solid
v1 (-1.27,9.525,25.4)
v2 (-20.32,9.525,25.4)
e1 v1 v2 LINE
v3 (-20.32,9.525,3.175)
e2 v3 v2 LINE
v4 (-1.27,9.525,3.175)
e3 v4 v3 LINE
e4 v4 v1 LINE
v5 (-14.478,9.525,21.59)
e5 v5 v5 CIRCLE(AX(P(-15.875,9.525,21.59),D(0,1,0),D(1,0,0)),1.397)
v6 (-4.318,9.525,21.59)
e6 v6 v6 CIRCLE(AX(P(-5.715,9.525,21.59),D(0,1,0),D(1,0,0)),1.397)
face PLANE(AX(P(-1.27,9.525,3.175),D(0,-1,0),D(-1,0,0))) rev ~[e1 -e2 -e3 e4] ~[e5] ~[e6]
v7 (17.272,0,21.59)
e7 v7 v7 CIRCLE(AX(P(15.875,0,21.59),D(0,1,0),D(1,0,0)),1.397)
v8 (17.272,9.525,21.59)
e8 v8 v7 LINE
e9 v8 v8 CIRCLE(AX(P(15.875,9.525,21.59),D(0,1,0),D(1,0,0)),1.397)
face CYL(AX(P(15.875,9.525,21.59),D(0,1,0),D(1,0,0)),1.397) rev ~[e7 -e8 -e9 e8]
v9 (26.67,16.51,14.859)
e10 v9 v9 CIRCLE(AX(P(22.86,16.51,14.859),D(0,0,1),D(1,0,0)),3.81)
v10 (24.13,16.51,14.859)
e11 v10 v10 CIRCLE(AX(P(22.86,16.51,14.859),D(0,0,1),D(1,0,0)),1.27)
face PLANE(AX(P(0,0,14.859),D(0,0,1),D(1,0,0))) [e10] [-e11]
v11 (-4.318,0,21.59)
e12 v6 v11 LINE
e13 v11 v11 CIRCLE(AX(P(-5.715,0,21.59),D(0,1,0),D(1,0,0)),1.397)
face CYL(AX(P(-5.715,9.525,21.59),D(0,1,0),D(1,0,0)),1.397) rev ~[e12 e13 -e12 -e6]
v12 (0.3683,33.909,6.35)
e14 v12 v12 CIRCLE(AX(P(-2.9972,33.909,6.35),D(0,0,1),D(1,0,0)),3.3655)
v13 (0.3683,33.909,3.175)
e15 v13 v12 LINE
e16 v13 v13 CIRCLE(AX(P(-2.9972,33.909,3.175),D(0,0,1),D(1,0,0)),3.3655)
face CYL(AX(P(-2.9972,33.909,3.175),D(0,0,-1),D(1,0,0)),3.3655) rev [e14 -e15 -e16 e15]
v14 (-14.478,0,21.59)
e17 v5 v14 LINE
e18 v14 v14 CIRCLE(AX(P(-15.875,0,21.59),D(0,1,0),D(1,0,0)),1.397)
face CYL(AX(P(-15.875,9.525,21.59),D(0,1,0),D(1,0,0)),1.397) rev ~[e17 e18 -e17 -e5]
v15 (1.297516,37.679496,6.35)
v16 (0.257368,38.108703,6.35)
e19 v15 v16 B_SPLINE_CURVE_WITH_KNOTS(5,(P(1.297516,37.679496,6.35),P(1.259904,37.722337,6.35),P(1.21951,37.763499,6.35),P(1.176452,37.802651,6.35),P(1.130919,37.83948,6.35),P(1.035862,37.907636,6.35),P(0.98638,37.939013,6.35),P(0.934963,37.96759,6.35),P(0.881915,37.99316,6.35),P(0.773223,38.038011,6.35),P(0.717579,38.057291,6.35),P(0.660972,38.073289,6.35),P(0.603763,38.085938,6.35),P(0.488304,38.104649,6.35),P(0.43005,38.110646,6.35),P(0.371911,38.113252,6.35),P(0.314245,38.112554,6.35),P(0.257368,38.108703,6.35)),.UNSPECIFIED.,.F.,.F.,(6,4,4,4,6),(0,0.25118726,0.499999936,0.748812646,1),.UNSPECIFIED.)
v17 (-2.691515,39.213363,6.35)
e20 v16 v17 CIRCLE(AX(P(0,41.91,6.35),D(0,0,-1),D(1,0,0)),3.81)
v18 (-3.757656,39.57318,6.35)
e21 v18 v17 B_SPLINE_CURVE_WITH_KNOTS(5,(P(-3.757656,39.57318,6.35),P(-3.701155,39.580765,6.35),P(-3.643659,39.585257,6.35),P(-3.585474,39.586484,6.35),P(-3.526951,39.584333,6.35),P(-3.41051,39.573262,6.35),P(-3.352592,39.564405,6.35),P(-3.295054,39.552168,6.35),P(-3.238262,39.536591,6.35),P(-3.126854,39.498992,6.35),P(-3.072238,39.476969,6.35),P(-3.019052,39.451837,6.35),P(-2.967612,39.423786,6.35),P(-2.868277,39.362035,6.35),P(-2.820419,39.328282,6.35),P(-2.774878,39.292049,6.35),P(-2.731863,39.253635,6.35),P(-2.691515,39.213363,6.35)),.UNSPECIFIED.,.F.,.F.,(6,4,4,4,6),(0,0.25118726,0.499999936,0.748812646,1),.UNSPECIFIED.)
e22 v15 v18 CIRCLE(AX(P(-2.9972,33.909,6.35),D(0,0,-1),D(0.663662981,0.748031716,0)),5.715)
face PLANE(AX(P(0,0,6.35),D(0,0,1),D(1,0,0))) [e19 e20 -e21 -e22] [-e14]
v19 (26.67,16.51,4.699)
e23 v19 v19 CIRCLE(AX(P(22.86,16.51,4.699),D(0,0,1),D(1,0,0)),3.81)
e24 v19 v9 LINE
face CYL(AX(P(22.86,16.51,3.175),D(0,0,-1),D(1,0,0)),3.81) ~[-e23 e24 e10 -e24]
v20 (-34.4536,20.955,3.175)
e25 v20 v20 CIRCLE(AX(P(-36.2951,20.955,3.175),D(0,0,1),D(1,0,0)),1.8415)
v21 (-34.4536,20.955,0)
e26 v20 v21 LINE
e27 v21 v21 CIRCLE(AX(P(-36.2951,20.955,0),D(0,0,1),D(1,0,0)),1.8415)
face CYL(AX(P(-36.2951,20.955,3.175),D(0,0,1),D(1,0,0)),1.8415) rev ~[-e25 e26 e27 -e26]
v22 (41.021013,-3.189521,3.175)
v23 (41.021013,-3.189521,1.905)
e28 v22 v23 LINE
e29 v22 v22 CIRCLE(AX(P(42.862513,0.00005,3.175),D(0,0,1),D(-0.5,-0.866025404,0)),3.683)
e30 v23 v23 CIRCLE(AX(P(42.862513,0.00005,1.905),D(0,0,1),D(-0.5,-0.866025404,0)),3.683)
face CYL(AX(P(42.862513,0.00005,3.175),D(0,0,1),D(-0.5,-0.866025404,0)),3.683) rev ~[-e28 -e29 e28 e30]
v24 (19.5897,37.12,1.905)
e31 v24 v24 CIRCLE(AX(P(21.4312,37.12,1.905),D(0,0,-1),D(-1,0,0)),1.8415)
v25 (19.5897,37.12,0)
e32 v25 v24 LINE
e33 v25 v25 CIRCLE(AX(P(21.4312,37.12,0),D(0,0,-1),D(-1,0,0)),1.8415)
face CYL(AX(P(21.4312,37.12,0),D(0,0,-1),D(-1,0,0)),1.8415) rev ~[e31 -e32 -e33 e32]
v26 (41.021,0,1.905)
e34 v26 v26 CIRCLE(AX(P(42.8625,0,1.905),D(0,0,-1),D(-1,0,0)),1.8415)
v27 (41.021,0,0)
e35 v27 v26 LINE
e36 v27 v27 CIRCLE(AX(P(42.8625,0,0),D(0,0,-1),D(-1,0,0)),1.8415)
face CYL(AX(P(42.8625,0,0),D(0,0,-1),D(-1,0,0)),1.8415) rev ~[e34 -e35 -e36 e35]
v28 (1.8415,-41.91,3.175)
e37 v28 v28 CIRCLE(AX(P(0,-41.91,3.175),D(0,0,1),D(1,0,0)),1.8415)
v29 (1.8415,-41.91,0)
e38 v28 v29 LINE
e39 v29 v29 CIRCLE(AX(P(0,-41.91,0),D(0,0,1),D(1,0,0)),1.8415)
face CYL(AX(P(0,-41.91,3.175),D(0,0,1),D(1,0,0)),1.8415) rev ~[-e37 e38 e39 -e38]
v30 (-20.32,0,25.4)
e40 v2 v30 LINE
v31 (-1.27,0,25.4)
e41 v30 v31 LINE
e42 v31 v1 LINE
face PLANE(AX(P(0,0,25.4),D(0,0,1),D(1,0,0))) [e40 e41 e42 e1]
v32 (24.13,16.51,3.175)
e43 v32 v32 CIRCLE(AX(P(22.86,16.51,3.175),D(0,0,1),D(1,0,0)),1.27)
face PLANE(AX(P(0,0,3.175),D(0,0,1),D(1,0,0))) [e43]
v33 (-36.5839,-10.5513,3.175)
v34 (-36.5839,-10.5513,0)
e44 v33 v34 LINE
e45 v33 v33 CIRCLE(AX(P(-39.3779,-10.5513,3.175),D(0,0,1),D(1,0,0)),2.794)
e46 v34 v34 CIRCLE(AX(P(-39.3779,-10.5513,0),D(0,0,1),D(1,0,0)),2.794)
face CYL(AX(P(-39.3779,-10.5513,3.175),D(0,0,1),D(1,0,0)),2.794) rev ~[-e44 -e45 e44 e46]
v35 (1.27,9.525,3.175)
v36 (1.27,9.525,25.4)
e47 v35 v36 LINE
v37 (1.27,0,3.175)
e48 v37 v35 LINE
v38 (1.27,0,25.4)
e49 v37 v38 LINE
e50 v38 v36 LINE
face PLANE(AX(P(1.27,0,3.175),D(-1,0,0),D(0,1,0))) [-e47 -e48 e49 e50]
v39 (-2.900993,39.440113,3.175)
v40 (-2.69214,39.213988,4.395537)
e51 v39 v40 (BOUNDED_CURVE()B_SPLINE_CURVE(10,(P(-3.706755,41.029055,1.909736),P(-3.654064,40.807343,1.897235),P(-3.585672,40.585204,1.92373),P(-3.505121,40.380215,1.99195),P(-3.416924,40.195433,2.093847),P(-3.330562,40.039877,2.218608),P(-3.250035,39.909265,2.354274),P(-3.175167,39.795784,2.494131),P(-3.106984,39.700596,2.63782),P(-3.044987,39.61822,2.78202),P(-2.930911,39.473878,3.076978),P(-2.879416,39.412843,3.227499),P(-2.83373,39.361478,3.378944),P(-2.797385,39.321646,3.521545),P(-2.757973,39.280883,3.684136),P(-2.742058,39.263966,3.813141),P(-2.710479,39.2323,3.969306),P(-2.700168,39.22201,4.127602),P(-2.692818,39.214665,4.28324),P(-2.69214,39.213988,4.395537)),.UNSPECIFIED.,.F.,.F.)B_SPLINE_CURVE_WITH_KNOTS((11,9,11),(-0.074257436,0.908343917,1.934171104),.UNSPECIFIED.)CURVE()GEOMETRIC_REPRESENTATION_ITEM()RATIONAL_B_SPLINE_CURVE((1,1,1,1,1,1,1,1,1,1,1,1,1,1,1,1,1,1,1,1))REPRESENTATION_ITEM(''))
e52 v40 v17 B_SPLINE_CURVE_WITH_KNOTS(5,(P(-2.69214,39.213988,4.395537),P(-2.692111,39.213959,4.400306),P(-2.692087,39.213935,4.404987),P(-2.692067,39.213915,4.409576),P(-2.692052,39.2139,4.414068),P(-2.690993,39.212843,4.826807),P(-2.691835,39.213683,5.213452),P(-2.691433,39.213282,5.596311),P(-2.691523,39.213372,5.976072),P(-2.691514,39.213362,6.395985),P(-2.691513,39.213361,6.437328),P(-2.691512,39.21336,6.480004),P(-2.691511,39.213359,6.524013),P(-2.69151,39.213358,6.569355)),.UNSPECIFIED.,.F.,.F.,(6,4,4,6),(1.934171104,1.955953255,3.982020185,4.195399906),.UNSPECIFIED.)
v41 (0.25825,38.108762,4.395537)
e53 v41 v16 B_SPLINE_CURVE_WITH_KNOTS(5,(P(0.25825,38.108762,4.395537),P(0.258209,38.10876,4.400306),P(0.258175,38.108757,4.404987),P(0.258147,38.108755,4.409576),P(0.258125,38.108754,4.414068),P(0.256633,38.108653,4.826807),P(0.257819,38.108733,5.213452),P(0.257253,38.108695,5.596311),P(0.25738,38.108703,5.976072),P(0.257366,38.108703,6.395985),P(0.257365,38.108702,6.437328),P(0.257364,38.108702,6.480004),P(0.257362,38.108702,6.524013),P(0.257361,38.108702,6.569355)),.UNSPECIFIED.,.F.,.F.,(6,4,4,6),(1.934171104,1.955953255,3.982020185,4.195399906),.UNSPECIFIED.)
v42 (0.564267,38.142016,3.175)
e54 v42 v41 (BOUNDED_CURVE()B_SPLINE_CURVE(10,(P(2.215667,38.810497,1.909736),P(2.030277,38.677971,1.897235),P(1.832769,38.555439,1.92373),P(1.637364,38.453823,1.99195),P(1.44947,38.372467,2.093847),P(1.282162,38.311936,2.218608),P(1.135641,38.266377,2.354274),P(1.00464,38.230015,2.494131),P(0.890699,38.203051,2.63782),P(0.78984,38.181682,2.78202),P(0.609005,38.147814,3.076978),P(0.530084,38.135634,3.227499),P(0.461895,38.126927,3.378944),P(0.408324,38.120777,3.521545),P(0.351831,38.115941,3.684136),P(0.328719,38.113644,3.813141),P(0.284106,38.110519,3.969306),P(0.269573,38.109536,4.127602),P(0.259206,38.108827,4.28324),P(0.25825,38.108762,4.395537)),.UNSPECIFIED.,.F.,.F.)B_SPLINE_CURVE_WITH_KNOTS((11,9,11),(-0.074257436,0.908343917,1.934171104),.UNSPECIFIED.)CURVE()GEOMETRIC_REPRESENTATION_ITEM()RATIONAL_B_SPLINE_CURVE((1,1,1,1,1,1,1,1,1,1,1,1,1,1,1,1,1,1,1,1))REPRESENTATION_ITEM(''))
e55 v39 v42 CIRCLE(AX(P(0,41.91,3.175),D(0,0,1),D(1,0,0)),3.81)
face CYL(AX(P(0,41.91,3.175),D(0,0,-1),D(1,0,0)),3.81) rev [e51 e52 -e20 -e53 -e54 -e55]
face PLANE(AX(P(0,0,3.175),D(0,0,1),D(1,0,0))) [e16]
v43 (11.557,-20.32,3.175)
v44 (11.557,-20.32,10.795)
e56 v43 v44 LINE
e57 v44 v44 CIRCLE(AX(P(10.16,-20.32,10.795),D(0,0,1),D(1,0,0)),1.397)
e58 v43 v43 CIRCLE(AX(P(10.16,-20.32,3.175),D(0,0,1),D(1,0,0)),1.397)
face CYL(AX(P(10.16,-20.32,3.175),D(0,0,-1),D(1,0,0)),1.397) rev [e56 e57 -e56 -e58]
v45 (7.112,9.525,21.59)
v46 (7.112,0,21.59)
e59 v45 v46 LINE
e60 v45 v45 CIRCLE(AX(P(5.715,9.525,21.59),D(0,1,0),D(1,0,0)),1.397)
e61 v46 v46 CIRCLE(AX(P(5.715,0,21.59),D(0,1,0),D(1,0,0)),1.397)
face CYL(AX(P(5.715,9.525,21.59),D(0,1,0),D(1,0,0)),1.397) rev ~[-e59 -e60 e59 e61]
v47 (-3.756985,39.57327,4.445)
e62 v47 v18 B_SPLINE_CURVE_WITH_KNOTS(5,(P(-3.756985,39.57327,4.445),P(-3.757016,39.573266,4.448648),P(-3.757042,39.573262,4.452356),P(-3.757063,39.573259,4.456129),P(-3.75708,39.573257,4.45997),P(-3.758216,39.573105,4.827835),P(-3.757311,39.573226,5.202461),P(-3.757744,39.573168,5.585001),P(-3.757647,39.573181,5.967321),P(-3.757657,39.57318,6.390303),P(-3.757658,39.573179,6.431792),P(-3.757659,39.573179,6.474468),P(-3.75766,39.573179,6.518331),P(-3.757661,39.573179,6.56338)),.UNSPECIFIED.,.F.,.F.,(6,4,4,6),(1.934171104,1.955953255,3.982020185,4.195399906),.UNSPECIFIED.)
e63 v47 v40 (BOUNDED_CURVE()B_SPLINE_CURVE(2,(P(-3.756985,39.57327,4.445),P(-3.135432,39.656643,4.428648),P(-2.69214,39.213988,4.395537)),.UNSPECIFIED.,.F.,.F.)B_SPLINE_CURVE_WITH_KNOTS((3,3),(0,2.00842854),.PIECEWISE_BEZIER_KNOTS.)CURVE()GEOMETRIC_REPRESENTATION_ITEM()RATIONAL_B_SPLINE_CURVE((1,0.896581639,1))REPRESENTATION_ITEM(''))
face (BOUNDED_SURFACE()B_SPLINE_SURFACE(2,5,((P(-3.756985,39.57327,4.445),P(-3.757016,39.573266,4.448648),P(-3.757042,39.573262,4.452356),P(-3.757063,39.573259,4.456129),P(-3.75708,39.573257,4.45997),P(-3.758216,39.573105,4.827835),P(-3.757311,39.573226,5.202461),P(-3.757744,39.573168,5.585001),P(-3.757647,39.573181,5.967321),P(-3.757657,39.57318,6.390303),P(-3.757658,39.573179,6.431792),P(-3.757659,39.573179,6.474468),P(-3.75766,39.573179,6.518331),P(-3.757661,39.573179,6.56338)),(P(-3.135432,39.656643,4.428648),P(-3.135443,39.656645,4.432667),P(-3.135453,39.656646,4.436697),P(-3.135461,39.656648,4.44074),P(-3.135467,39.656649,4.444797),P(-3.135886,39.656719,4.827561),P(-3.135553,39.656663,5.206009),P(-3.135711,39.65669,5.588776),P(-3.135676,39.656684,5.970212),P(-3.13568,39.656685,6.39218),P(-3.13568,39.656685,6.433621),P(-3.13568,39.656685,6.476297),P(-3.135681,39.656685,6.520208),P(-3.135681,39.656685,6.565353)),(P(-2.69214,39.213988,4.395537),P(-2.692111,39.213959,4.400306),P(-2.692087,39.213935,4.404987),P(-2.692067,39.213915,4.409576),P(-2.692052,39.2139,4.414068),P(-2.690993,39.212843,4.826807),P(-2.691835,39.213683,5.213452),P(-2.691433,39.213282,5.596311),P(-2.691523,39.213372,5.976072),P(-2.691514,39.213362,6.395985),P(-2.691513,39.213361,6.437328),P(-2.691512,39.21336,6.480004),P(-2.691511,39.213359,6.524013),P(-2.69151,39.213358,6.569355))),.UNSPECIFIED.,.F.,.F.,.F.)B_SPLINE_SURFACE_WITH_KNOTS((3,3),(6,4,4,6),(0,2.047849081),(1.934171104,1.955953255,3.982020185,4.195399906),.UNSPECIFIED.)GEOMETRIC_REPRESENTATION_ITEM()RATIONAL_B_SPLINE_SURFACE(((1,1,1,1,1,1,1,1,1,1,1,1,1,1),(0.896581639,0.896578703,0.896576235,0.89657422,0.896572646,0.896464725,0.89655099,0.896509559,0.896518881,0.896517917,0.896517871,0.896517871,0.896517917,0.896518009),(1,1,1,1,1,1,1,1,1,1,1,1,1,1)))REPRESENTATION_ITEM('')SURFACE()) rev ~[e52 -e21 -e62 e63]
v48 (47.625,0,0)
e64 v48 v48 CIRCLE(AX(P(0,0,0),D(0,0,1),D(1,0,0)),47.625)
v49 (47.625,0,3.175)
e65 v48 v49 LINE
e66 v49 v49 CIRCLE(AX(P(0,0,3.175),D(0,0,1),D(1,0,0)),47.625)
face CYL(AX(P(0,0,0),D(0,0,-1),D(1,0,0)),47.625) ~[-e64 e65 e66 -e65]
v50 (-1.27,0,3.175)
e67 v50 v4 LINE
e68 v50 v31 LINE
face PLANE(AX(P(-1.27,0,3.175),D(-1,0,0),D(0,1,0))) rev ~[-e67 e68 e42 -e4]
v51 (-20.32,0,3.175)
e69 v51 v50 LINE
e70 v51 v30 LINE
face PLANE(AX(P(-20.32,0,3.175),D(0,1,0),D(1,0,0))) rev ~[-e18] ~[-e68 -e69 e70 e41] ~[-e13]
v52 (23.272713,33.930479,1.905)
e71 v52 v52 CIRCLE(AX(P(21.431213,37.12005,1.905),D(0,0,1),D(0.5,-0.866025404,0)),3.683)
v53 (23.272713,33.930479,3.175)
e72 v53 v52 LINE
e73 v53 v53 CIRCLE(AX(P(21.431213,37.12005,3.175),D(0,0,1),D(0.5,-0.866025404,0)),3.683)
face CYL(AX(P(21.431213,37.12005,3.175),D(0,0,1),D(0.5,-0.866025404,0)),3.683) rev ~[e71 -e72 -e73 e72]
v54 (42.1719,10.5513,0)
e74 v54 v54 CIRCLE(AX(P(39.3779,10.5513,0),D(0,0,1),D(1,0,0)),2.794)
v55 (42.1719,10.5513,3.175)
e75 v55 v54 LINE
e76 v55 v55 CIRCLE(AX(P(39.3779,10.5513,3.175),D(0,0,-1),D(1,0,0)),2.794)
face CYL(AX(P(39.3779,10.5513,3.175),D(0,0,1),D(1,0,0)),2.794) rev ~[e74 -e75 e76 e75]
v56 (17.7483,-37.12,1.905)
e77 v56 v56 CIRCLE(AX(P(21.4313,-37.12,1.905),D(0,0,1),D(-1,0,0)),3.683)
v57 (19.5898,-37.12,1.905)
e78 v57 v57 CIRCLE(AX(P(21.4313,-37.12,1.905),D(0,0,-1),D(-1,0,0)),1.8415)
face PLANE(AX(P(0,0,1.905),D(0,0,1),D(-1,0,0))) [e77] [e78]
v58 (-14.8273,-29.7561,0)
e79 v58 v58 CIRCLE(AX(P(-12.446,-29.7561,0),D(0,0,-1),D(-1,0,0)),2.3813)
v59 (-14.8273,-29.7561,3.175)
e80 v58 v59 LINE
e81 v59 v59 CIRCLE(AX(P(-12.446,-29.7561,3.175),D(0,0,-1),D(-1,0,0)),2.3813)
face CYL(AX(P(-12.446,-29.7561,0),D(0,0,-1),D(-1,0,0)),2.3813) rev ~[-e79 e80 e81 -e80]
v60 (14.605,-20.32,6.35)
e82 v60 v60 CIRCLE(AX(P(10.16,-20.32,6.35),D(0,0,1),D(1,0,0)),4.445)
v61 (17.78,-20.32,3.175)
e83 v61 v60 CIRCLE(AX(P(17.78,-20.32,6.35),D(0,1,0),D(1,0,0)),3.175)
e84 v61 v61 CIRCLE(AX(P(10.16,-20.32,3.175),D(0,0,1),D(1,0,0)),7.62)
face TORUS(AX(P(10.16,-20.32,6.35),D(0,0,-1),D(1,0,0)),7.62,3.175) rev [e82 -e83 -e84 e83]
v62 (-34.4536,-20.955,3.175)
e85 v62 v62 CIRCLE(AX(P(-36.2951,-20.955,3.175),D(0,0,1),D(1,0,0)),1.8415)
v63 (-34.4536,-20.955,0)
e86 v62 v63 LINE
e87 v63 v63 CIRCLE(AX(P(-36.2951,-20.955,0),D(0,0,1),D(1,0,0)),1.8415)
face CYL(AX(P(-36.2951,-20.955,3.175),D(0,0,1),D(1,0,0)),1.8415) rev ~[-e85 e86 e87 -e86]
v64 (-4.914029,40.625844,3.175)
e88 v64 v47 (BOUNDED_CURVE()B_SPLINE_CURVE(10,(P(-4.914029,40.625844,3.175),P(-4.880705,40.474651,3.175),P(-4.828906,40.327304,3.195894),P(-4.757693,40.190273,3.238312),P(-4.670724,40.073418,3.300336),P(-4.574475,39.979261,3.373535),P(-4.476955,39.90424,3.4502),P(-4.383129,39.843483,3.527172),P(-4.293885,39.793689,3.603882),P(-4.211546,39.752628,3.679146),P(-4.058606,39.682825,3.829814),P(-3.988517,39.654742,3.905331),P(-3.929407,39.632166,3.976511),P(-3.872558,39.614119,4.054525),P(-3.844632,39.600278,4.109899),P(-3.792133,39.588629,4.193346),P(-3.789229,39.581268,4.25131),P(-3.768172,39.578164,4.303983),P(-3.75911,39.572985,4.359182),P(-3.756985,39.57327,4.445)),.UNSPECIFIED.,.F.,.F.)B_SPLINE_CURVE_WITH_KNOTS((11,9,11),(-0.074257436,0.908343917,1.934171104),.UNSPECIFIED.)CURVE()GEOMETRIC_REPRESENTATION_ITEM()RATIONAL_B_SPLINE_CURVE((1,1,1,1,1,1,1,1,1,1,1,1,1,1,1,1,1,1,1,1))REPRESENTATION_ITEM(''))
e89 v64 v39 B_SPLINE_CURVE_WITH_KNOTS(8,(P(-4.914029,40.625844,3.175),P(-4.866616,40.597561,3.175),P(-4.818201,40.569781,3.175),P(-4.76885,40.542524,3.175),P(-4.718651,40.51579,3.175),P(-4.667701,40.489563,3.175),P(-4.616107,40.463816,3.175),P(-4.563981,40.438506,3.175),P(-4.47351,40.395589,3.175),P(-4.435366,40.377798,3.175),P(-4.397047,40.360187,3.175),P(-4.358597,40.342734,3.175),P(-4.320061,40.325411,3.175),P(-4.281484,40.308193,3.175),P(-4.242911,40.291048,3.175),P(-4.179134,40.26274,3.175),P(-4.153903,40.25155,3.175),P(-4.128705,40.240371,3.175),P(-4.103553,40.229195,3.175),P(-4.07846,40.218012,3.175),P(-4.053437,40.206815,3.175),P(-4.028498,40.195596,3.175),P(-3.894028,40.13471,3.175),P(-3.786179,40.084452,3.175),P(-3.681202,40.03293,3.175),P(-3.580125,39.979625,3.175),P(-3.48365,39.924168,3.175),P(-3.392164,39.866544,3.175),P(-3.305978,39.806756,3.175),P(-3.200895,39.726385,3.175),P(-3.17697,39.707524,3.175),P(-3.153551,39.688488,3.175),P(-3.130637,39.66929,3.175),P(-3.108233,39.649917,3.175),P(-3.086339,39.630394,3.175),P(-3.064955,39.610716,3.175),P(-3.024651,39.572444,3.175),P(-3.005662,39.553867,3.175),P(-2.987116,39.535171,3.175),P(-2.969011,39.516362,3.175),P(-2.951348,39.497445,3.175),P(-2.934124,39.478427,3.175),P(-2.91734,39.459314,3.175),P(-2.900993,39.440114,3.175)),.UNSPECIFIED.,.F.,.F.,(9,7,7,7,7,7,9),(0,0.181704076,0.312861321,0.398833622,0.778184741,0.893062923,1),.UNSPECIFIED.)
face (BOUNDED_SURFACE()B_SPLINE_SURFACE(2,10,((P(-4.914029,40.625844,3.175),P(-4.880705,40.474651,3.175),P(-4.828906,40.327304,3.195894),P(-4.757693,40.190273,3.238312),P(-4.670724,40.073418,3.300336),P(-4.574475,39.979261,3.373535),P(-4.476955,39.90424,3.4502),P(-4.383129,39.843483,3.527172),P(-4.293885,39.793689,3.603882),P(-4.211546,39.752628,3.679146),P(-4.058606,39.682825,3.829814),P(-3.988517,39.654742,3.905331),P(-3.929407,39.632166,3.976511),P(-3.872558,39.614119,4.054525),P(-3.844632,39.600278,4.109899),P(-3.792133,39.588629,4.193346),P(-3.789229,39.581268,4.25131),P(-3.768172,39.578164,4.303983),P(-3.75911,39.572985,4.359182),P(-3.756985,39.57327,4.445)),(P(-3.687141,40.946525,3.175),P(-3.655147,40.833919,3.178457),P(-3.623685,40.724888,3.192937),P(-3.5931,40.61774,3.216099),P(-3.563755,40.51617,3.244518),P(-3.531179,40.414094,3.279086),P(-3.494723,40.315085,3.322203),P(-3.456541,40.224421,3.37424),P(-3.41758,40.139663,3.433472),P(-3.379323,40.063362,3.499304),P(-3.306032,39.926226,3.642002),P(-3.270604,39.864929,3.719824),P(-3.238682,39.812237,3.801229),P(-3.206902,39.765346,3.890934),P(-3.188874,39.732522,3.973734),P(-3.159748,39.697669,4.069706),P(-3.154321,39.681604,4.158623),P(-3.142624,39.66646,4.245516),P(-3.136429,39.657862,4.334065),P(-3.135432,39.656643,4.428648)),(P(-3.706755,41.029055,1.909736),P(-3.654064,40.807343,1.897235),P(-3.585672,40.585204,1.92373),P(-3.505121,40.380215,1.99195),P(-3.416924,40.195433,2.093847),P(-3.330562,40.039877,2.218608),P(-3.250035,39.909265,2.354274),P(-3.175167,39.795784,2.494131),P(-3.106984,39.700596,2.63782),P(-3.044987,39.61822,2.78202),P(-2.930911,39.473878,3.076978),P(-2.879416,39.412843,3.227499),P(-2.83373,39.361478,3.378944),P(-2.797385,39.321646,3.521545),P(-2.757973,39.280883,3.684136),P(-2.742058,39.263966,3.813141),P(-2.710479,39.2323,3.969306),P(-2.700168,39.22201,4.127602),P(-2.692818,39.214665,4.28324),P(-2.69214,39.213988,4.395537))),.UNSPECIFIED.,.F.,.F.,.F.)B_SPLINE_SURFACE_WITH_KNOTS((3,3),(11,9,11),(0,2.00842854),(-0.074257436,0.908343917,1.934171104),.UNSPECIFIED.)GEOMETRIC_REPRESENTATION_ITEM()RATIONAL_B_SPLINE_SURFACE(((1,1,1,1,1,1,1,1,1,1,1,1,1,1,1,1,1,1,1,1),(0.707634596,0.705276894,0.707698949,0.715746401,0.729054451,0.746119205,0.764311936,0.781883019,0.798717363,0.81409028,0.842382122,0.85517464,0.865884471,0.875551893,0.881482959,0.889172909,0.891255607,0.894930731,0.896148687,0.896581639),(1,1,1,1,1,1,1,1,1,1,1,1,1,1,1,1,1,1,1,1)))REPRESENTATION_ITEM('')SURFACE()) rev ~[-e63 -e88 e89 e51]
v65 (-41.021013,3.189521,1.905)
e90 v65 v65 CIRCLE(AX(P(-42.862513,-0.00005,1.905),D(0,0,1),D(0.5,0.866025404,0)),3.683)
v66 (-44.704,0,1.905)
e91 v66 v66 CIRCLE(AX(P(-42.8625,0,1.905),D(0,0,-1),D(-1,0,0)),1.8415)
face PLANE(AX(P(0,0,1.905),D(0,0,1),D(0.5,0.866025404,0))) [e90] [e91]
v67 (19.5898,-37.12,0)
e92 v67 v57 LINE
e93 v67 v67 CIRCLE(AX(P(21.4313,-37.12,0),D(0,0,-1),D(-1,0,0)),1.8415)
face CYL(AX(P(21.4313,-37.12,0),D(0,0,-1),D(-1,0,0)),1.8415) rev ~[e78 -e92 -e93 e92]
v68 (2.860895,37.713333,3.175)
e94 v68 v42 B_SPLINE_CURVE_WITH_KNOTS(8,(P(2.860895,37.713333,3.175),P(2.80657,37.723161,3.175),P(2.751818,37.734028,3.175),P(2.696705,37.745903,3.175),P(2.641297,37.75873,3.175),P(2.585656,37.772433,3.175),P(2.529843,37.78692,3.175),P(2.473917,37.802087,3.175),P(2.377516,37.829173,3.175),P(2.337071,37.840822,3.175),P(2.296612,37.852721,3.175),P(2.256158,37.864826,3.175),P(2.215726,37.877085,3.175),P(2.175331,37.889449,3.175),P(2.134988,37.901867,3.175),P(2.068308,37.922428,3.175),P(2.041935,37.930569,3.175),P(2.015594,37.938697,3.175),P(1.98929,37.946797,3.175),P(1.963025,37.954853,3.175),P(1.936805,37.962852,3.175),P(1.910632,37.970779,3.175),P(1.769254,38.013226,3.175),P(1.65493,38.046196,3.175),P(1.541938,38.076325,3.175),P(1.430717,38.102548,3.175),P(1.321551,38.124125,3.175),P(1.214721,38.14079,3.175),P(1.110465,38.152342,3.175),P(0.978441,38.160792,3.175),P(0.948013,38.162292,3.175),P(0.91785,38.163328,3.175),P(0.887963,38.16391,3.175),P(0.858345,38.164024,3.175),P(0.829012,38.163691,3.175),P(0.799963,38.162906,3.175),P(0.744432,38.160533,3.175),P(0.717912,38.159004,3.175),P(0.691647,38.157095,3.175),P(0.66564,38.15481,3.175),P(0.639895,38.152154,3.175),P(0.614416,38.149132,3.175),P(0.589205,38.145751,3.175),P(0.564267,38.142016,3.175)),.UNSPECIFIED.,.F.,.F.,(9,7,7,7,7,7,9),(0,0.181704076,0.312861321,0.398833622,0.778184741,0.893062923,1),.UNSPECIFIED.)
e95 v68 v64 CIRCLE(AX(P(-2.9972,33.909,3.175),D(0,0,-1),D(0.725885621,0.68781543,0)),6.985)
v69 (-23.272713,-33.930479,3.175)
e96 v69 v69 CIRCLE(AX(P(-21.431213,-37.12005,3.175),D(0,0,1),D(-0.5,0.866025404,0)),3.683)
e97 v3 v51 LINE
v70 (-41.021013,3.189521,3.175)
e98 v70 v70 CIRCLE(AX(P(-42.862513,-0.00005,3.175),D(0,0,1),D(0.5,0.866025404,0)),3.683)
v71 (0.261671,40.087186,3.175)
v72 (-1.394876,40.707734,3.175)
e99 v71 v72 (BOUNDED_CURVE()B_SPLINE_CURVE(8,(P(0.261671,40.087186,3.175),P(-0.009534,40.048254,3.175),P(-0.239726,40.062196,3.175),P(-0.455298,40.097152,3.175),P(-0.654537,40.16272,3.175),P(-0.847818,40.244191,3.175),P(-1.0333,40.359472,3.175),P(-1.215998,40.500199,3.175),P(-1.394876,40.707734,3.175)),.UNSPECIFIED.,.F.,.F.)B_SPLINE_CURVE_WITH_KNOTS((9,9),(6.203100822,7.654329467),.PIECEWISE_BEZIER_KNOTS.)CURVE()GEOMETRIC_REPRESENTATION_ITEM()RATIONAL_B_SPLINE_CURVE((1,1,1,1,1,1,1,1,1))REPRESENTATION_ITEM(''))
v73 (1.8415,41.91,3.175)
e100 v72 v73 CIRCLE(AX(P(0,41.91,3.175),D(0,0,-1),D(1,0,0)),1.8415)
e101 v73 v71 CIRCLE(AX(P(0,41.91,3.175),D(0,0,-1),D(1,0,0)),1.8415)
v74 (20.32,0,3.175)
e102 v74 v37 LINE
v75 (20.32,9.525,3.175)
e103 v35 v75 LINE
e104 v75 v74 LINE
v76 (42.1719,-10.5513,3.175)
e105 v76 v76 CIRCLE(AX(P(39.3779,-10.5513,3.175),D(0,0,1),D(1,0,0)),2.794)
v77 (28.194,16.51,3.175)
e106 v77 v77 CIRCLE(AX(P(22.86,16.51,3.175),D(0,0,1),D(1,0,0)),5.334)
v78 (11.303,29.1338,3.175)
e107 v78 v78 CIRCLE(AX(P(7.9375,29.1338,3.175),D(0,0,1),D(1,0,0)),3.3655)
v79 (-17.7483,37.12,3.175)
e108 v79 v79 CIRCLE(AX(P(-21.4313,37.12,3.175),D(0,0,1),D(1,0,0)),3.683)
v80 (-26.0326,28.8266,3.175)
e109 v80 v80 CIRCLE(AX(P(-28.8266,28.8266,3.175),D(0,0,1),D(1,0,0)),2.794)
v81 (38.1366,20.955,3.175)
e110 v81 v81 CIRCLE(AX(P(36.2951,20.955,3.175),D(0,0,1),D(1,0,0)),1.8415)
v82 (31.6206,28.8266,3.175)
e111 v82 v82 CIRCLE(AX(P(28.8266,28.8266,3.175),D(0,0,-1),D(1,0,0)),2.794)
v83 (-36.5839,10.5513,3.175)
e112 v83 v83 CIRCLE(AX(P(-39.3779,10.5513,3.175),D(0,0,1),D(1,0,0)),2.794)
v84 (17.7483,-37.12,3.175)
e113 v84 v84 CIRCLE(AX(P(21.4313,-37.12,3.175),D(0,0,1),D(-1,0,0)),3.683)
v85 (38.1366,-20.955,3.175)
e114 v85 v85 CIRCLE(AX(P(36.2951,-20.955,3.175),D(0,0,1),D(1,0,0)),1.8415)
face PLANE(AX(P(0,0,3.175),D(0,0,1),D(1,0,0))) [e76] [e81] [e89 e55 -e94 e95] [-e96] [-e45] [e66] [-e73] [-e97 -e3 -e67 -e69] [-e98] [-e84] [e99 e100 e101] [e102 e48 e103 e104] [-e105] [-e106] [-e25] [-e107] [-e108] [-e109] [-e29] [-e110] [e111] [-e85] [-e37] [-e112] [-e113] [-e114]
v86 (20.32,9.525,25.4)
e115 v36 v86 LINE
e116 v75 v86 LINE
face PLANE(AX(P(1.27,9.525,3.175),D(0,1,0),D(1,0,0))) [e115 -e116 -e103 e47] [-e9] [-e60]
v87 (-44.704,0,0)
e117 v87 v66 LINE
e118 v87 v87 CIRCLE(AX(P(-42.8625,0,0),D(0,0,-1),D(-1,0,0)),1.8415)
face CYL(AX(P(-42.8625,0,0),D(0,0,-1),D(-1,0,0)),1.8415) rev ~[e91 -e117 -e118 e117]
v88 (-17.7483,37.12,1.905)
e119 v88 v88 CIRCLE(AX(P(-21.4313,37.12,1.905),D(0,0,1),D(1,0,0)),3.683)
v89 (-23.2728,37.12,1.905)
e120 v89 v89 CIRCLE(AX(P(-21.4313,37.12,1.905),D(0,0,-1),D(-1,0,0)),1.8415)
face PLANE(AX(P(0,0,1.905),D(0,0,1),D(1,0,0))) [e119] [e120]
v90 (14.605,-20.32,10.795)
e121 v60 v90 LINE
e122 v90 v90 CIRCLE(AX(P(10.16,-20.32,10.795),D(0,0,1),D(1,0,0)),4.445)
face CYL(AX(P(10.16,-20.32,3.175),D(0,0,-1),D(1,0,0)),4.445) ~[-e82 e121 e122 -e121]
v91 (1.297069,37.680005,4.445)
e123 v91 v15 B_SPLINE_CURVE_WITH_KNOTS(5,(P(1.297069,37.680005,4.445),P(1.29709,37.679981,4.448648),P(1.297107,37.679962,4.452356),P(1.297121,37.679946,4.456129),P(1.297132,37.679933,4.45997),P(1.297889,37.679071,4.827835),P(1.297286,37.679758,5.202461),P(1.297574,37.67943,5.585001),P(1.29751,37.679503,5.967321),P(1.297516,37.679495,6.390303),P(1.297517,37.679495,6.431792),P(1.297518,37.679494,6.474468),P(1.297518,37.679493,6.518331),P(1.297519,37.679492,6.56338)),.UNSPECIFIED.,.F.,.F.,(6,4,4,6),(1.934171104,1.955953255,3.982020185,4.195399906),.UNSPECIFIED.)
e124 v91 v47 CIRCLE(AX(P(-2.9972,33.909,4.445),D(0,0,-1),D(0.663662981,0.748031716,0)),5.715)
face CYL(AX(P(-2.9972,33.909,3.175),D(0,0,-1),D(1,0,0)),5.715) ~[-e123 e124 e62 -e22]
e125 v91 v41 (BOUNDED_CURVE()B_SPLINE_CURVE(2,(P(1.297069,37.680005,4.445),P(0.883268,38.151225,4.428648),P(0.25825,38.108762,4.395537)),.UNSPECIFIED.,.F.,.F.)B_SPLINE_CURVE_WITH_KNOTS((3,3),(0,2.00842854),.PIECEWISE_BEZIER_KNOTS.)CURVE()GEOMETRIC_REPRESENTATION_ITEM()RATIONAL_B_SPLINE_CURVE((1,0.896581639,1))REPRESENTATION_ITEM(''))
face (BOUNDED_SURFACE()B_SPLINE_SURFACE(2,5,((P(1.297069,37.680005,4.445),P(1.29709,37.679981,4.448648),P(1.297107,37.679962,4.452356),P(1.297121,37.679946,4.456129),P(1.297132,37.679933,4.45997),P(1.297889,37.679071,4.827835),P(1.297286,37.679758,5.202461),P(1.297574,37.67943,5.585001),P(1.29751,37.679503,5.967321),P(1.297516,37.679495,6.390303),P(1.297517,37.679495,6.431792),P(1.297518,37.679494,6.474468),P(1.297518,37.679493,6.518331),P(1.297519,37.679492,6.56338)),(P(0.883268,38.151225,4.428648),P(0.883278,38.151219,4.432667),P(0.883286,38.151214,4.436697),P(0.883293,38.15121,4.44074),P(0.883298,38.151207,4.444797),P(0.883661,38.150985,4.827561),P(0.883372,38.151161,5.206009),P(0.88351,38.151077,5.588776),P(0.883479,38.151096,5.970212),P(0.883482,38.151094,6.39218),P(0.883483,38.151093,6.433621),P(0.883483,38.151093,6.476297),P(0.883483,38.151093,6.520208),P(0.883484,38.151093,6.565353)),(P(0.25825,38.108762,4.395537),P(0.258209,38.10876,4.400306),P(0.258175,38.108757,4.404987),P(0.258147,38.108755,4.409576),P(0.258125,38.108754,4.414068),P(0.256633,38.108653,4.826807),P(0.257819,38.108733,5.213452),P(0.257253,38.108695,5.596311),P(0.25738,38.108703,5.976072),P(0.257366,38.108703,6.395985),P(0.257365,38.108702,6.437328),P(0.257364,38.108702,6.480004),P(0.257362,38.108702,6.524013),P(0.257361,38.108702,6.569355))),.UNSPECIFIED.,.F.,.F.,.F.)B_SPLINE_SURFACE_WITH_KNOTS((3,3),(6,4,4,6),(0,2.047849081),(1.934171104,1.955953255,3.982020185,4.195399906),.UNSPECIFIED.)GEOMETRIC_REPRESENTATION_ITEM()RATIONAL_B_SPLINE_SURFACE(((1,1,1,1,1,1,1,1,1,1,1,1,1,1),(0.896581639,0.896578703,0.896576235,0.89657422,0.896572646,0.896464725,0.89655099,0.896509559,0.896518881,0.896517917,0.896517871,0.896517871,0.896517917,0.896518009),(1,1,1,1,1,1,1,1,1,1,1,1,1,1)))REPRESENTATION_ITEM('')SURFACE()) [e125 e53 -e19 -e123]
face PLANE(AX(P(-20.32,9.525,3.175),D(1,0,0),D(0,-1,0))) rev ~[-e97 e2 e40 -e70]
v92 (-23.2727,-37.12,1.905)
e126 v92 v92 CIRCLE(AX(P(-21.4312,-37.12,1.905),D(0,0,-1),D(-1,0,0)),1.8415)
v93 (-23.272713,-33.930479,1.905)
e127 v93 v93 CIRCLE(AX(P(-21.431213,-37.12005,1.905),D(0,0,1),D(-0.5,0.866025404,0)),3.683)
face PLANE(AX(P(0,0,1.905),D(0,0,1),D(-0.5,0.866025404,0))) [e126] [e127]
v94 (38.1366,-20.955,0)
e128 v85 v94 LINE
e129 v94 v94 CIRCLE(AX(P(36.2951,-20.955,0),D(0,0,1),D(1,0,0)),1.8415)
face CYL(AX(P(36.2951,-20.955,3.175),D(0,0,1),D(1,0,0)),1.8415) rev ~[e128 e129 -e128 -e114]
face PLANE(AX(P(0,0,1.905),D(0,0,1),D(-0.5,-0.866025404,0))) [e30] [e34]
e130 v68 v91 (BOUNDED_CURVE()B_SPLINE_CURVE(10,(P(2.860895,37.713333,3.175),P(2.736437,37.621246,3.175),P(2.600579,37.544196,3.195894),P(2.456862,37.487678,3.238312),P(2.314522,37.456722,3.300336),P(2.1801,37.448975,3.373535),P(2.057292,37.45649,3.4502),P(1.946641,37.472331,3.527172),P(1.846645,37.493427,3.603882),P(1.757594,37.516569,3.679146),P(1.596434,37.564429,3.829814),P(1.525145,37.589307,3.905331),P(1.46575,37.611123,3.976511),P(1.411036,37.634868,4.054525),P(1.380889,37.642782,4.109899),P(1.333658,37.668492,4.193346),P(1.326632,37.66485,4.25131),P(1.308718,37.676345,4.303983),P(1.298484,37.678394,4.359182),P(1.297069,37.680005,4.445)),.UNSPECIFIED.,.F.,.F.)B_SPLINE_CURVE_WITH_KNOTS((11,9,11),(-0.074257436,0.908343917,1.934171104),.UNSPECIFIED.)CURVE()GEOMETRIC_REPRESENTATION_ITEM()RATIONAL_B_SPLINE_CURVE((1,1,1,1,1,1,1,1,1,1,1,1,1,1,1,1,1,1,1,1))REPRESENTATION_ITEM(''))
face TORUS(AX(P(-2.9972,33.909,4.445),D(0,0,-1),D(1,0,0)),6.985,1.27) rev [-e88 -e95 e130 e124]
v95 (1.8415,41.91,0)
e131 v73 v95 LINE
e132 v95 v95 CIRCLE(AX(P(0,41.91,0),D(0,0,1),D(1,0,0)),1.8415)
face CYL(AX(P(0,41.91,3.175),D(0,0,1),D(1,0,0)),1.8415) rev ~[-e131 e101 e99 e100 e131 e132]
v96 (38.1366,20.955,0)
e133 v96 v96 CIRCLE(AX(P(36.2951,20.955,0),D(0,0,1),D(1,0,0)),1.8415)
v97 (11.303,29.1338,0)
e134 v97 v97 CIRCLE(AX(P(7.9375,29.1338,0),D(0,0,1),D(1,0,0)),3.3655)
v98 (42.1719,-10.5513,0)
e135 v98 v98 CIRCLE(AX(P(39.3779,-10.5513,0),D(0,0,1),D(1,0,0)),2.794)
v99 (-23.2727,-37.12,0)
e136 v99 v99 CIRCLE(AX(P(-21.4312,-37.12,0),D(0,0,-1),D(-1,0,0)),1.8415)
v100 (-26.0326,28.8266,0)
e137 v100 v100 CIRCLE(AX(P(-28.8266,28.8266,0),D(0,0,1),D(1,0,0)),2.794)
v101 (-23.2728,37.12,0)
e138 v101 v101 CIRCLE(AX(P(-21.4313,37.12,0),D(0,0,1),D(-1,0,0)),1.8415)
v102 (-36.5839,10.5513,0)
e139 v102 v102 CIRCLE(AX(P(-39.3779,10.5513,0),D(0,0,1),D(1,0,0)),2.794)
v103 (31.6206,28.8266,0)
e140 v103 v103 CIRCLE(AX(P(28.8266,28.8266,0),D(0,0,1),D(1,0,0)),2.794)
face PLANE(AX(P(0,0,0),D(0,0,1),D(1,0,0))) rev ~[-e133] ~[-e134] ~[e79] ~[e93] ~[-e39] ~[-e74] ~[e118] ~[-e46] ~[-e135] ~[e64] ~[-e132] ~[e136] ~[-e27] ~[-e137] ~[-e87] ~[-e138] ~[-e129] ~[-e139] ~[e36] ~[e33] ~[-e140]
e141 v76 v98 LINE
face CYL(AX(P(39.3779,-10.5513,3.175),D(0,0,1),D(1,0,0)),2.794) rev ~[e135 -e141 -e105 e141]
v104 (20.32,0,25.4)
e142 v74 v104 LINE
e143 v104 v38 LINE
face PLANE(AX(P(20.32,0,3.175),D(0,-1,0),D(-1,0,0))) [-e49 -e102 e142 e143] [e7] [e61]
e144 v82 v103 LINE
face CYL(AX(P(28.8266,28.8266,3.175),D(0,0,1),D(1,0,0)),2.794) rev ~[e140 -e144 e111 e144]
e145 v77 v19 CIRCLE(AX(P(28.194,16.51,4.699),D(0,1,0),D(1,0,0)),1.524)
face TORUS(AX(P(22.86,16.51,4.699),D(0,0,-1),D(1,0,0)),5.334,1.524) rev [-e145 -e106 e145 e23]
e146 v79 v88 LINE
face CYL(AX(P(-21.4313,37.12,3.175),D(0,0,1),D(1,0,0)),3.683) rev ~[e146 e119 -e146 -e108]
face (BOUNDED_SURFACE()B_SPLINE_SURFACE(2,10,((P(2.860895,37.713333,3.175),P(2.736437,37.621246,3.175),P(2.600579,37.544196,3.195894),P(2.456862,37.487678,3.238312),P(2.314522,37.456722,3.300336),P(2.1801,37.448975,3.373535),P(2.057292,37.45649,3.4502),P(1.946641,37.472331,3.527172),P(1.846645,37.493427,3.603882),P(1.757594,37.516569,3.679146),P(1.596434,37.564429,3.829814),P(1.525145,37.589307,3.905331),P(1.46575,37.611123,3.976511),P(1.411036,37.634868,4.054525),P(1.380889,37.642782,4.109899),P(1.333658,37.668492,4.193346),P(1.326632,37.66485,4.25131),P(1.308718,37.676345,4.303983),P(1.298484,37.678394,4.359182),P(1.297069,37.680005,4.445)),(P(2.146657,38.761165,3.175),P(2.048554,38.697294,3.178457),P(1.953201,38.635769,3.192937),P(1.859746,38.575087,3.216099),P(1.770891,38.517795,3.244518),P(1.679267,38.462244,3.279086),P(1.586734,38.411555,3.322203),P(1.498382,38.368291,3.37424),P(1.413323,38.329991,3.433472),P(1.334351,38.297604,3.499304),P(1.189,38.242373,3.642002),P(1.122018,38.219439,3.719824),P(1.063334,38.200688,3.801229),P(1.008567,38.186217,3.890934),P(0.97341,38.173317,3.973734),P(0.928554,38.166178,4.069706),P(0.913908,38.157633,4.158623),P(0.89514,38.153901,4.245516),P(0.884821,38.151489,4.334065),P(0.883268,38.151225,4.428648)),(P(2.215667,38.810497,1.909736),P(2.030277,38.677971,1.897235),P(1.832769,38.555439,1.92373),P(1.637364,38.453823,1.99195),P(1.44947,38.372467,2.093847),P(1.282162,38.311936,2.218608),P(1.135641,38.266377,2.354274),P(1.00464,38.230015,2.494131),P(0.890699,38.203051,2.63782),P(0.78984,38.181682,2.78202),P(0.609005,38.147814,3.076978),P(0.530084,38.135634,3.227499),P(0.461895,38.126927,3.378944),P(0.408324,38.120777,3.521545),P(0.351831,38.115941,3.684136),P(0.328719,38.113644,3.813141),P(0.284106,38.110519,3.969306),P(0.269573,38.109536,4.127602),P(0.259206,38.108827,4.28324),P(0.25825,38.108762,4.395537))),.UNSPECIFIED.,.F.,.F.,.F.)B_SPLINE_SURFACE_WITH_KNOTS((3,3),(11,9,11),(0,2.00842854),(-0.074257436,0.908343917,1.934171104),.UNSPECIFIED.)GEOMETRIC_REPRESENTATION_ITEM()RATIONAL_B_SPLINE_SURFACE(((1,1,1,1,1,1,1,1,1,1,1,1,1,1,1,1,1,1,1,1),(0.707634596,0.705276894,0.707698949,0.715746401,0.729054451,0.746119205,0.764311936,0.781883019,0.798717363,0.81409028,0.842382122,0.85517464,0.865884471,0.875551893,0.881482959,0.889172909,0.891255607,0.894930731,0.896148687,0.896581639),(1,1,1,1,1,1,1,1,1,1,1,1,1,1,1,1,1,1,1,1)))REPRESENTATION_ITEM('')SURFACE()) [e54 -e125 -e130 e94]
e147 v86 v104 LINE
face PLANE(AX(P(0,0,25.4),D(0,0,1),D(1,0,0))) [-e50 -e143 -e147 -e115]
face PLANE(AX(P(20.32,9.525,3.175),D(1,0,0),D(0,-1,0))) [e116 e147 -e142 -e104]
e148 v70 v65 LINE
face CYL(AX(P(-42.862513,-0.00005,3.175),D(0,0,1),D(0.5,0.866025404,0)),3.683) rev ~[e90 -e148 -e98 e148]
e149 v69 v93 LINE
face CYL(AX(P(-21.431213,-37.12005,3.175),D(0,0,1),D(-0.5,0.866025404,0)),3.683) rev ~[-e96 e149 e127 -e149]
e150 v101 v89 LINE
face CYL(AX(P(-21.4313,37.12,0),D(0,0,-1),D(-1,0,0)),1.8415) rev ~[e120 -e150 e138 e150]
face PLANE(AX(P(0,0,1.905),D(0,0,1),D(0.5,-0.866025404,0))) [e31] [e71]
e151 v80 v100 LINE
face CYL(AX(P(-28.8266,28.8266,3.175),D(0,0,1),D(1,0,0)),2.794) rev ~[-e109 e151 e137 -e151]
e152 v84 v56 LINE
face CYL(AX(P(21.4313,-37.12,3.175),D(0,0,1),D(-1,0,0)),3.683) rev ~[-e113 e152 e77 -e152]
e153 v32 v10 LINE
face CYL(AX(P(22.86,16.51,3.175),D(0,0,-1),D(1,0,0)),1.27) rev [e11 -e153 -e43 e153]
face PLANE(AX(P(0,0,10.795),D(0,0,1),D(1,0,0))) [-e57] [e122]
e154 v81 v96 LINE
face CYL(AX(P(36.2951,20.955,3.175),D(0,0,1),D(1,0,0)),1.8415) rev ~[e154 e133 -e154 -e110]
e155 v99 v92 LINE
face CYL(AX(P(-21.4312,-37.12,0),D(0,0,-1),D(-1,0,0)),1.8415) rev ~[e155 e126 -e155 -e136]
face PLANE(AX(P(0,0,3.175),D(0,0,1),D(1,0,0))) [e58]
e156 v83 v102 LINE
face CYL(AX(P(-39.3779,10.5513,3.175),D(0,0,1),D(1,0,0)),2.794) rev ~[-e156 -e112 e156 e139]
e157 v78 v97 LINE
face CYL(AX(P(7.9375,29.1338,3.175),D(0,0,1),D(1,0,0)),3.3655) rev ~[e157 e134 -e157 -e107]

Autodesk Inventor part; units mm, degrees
ref_plane "YZ Plane" through (0, 0, 0) normal (1, 0, 0) x (0, 1, 0)
ref_plane "XZ Plane" through (0, 0, 0) normal (0, 1, 0) x (-1, 0, 0)
ref_plane "XY Plane" through (0, 0, 0) normal (0, 0, 1) x (1, 0, 0)
sketch "Sketch1" plane through (0, 0, 0) normal (0, 0, 1) x (1, 0, 0)
  circle A0 centre (0, 0) radius 47.625
  dimension "d0" = 95.25
extrude "Extrusion1" add sketch "Sketch1" along normal blind 3.175
sketch "Sketch3" plane through (0, 0, 3.175) normal (0, 0, 1) x (1, 0, 0)
  line L0 (1.27, 9.525) -> (20.32, 9.525)
  line L1 (20.32, 9.525) -> (20.32, 0)
  line L2 (20.32, 0) -> (1.27, 0)
  line L3 (1.27, 0) -> (1.27, 9.525)
  line L4 (0, 0) -> (0, -11.0035)
  line L5 (-1.27, 9.525) -> (-20.32, 9.525)
  line L6 (-20.32, 9.525) -> (-20.32, 0)
  line L7 (-20.32, 0) -> (-1.27, 0)
  line L8 (-1.27, 0) -> (-1.27, 9.525)
  dimension "d11" = 19.05
  dimension "d12" = 9.525
  dimension "d13" = 1.27
  dimension "d14" = 0
extrude "Extrusion3" add sketch "Sketch3" along normal blind 22.225
sketch "Sketch4" plane through (1.27, 9.525, 3.175) normal (0, 1, 0) x (1, 0, 0)
  circle A0 centre (4.445, -18.415) radius 1.397
  line L0 (19.05, -22.225) -> (0, -22.225) projected
  circle A1 centre (14.605, -18.415) radius 1.397
  line L1 (9.525, -22.225) -> (9.525, -7.9119)
  line L2 (-1.27, 3.175) -> (-1.27, 8.3959)
  circle A2 centre (-6.985, -18.415) radius 1.397
  circle A3 centre (-17.145, -18.415) radius 1.397
  dimension "d17" = 2.794
  dimension "d18" = 3.81
  dimension "d19" = 2.794
  dimension "d20" = 3.81
  dimension "d21" = 10.16
  dimension "d22" = 5.08
extrude "Extrusion4" cut sketch "Sketch4" against normal through all
sketch "Sketch5" plane through (0, 0, 0) normal (0, 0, -1) x (-1, 0, 0)
  circle A0 centre (12.446, -29.7561) radius 2.3813
  point P0 (0, 0)
  dimension "d25" = 4.7625
  dimension "d26" = 12.446
  dimension "d27" = 29.7561
extrude "Extrusion5" cut sketch "Sketch5" against normal blind 25.4
sketch "Sketch9" plane through (0, 0, 0) normal (0, 0, -1) x (-1, 0, 0)
  line L0 (0, 0) -> (21.4313, 37.12)
  line L1 (0, 0) -> (42.8625, 0) construction
  circle A0 centre (21.4313, 37.12) radius 1.8415
  circle A1 centre (-21.4312, 37.12) radius 1.8415
  circle A2 centre (-42.8625, 0) radius 1.8415
  circle A3 centre (-21.4313, -37.12) radius 1.8415
  circle A4 centre (21.4312, -37.12) radius 1.8415
  circle A5 centre (42.8625, 0) radius 1.8415
  dimension "d44" = 42.8625
  dimension "d45" = 60
  dimension "d46" = 3.683
  dimension "d49" = 360
extrude "Extrusion9" cut sketch "Sketch9" against normal blind 25.4
sketch "Sketch10" plane through (0, 0, 3.175) normal (0, 0, 1) x (1, 0, 0)
  line L0 (0, 0) -> (0, 41.91)
  circle A0 centre (0, 41.91) radius 1.8415
  circle A1 centre (-36.2951, 20.955) radius 1.8415
  circle A2 centre (-36.2951, -20.955) radius 1.8415
  circle A3 centre (0, -41.91) radius 1.8415
  circle A4 centre (36.2951, -20.955) radius 1.8415
  circle A5 centre (36.2951, 20.955) radius 1.8415
  dimension "d53" = 41.91
  dimension "d54" = 3.683
  dimension "d57" = 360
extrude "Extrusion10" cut sketch "Sketch10" against normal blind 25.4
sketch "Sketch11" plane through (0, 0, 3.175) normal (0, 0, 1) x (1, 0, 0)
  line L0 (0, 0) -> (39.3779, 10.5513)
  line L1 (0, 0) -> (40.767, 0) construction
  circle A0 centre (39.3779, 10.5513) radius 2.794
  line L2 (0, 0) -> (0, 16.7096)
  circle A1 centre (39.3779, -10.5513) radius 2.794
  line L3 (0, 0) -> (-40.767, 0) construction
  circle A2 centre (-39.3779, 10.5513) radius 2.794
  circle A3 centre (-39.3779, -10.5513) radius 2.794
  line L4 (0, 0) -> (28.8266, 28.8266)
  line L5 (0, 0) -> (40.767, 0) construction
  circle A4 centre (28.8266, 28.8266) radius 2.794
  circle A5 centre (-28.8266, 28.8266) radius 2.794
  dimension "d61" = 40.767
  dimension "d62" = 15
  dimension "d63" = 5.588
  dimension "d66" = 40.767
  dimension "d67" = 45
  dimension "d68" = 5.588
extrude "Extrusion11" cut sketch "Sketch11" against normal blind 25.4 contours A0 | A1 | A2 | A3
extrude "Extrusion12" cut sketch "Sketch11" against normal blind 25.4 contours A4 | A5
sketch "Sketch12" plane through (0, 0, 3.175) normal (0, 0, 1) x (1, 0, 0)
  circle A0 centre (10.16, -20.32) radius 1.397
  circle A1 centre (10.16, -20.32) radius 4.445
  point P0 (0, 0)
  dimension "d71" = 2.794
  dimension "d72" = 8.89
  dimension "d73" = 20.32
  dimension "d74" = 10.16
extrude "Extrusion13" add sketch "Sketch12" along normal blind 7.62
fillet "Fillet2" radius 3.175 1 edges at (5.715, -20.32, 3.175)
sketch "Sketch13" plane through (0, 0, 3.175) normal (0, 0, 1) x (1, 0, 0)
  circle A0 centre (7.9375, 29.1338) radius 3.3655
  point P0 (0, 0)
  dimension "d79" = 6.731
  dimension "d80" = 29.1338
  dimension "d81" = 7.9375
extrude "Extrusion14" cut sketch "Sketch13" against normal through all
sketch "Sketch16" plane through (0, 0, 3.175) normal (0, 0, 1) x (1, 0, 0)
  circle A0 centre (-2.9972, 33.909) radius 3.3655
  circle A1 centre (-2.9972, 33.909) radius 5.715
  circle A2 centre (7.9375, 29.1338) radius 3.3655 projected
  line L0 (-2.9972, 33.909) -> (7.9375, 29.1338) construction
  point P0 (0, 0)
  dimension "d90" = 6.731
  dimension "d91" = 11.43
  dimension "d92" = 33.909
  dimension "d93" = 2.9972
  dimension "d97" = 11.9319
extrude "Extrusion16" add sketch "Sketch16" along normal blind 3.175 contours A1
fillet "Fillet3" radius 1.27 1 edges at (-8.7122, 33.909, 3.175)
sketch "Sketch18" plane through (0, 0, 3.175) normal (0, 0, 1) x (1, 0, 0)
  arc A0 (0.2617, 40.0872) -> (-1.3949, 40.7077) centre (0, 41.91) ccw construction
  circle A1 centre (0, 41.91) radius 3.81
  point P0 (0, 0)
  dimension "d98" = 7.62
extrude "Extrusion17" cut sketch "Sketch18" along normal through all
fillet "Fillet4" radius 1.27 4 edges at (-3.2657, 39.9475, 3.5916) (1.1725, 38.2849, 3.5916) (0.7956, 38.184, 5.3975) (-3.0478, 39.6238, 5.3975)
sketch "Sketch19" plane through (0, 0, 3.175) normal (0, 0, 1) x (1, 0, 0)
  circle A0 centre (22.86, 16.51) radius 3.81
  circle A1 centre (22.86, 16.51) radius 1.27
  point P0 (0, 0)
  dimension "d102" = 7.62
  dimension "d103" = 2.54
  dimension "d104" = 16.51
  dimension "d105" = 22.86
sketch "Sketch17" plane through (0, 0, 3.175) normal (0, 0, 1) x (1, 0, 0)
  line L0 (-26.0165, 23.6107) -> (-5.4123, 23.6107) construction
  line L1 (-5.4123, 23.6107) -> (-5.4123, 21.8703) construction
  line L2 (-5.4123, 21.8703) -> (-26.0165, 21.8703) construction
  line L3 (-26.0165, 21.8703) -> (-26.0165, 23.6107) construction
extrude "Extrusion18" add sketch "Sketch19" along normal blind 11.684
sketch "Sketch20" plane through (0, 0, 3.175) normal (0, 0, 1) x (1, 0, 0)
  circle A0 centre (-21.4313, 37.12) radius 1.8415 projected
  circle A1 centre (-21.4313, 37.12) radius 3.683
  point P0 (0, 0)
  dimension "d108" = 7.366
extrude "Extrusion19" cut sketch "Sketch20" against normal blind 1.27 contours A0 | A1
pattern_circular "Circular Pattern1" count 6 over 360 about axis through (0, 0, 0) along (0, 0, 1) of "Extrusion19"
fillet "Fillet5" radius 1.524 1 edges at (19.05, 16.51, 3.175)
properties part number "frontServoAttachmentPlate" material "ABS Plastic"
